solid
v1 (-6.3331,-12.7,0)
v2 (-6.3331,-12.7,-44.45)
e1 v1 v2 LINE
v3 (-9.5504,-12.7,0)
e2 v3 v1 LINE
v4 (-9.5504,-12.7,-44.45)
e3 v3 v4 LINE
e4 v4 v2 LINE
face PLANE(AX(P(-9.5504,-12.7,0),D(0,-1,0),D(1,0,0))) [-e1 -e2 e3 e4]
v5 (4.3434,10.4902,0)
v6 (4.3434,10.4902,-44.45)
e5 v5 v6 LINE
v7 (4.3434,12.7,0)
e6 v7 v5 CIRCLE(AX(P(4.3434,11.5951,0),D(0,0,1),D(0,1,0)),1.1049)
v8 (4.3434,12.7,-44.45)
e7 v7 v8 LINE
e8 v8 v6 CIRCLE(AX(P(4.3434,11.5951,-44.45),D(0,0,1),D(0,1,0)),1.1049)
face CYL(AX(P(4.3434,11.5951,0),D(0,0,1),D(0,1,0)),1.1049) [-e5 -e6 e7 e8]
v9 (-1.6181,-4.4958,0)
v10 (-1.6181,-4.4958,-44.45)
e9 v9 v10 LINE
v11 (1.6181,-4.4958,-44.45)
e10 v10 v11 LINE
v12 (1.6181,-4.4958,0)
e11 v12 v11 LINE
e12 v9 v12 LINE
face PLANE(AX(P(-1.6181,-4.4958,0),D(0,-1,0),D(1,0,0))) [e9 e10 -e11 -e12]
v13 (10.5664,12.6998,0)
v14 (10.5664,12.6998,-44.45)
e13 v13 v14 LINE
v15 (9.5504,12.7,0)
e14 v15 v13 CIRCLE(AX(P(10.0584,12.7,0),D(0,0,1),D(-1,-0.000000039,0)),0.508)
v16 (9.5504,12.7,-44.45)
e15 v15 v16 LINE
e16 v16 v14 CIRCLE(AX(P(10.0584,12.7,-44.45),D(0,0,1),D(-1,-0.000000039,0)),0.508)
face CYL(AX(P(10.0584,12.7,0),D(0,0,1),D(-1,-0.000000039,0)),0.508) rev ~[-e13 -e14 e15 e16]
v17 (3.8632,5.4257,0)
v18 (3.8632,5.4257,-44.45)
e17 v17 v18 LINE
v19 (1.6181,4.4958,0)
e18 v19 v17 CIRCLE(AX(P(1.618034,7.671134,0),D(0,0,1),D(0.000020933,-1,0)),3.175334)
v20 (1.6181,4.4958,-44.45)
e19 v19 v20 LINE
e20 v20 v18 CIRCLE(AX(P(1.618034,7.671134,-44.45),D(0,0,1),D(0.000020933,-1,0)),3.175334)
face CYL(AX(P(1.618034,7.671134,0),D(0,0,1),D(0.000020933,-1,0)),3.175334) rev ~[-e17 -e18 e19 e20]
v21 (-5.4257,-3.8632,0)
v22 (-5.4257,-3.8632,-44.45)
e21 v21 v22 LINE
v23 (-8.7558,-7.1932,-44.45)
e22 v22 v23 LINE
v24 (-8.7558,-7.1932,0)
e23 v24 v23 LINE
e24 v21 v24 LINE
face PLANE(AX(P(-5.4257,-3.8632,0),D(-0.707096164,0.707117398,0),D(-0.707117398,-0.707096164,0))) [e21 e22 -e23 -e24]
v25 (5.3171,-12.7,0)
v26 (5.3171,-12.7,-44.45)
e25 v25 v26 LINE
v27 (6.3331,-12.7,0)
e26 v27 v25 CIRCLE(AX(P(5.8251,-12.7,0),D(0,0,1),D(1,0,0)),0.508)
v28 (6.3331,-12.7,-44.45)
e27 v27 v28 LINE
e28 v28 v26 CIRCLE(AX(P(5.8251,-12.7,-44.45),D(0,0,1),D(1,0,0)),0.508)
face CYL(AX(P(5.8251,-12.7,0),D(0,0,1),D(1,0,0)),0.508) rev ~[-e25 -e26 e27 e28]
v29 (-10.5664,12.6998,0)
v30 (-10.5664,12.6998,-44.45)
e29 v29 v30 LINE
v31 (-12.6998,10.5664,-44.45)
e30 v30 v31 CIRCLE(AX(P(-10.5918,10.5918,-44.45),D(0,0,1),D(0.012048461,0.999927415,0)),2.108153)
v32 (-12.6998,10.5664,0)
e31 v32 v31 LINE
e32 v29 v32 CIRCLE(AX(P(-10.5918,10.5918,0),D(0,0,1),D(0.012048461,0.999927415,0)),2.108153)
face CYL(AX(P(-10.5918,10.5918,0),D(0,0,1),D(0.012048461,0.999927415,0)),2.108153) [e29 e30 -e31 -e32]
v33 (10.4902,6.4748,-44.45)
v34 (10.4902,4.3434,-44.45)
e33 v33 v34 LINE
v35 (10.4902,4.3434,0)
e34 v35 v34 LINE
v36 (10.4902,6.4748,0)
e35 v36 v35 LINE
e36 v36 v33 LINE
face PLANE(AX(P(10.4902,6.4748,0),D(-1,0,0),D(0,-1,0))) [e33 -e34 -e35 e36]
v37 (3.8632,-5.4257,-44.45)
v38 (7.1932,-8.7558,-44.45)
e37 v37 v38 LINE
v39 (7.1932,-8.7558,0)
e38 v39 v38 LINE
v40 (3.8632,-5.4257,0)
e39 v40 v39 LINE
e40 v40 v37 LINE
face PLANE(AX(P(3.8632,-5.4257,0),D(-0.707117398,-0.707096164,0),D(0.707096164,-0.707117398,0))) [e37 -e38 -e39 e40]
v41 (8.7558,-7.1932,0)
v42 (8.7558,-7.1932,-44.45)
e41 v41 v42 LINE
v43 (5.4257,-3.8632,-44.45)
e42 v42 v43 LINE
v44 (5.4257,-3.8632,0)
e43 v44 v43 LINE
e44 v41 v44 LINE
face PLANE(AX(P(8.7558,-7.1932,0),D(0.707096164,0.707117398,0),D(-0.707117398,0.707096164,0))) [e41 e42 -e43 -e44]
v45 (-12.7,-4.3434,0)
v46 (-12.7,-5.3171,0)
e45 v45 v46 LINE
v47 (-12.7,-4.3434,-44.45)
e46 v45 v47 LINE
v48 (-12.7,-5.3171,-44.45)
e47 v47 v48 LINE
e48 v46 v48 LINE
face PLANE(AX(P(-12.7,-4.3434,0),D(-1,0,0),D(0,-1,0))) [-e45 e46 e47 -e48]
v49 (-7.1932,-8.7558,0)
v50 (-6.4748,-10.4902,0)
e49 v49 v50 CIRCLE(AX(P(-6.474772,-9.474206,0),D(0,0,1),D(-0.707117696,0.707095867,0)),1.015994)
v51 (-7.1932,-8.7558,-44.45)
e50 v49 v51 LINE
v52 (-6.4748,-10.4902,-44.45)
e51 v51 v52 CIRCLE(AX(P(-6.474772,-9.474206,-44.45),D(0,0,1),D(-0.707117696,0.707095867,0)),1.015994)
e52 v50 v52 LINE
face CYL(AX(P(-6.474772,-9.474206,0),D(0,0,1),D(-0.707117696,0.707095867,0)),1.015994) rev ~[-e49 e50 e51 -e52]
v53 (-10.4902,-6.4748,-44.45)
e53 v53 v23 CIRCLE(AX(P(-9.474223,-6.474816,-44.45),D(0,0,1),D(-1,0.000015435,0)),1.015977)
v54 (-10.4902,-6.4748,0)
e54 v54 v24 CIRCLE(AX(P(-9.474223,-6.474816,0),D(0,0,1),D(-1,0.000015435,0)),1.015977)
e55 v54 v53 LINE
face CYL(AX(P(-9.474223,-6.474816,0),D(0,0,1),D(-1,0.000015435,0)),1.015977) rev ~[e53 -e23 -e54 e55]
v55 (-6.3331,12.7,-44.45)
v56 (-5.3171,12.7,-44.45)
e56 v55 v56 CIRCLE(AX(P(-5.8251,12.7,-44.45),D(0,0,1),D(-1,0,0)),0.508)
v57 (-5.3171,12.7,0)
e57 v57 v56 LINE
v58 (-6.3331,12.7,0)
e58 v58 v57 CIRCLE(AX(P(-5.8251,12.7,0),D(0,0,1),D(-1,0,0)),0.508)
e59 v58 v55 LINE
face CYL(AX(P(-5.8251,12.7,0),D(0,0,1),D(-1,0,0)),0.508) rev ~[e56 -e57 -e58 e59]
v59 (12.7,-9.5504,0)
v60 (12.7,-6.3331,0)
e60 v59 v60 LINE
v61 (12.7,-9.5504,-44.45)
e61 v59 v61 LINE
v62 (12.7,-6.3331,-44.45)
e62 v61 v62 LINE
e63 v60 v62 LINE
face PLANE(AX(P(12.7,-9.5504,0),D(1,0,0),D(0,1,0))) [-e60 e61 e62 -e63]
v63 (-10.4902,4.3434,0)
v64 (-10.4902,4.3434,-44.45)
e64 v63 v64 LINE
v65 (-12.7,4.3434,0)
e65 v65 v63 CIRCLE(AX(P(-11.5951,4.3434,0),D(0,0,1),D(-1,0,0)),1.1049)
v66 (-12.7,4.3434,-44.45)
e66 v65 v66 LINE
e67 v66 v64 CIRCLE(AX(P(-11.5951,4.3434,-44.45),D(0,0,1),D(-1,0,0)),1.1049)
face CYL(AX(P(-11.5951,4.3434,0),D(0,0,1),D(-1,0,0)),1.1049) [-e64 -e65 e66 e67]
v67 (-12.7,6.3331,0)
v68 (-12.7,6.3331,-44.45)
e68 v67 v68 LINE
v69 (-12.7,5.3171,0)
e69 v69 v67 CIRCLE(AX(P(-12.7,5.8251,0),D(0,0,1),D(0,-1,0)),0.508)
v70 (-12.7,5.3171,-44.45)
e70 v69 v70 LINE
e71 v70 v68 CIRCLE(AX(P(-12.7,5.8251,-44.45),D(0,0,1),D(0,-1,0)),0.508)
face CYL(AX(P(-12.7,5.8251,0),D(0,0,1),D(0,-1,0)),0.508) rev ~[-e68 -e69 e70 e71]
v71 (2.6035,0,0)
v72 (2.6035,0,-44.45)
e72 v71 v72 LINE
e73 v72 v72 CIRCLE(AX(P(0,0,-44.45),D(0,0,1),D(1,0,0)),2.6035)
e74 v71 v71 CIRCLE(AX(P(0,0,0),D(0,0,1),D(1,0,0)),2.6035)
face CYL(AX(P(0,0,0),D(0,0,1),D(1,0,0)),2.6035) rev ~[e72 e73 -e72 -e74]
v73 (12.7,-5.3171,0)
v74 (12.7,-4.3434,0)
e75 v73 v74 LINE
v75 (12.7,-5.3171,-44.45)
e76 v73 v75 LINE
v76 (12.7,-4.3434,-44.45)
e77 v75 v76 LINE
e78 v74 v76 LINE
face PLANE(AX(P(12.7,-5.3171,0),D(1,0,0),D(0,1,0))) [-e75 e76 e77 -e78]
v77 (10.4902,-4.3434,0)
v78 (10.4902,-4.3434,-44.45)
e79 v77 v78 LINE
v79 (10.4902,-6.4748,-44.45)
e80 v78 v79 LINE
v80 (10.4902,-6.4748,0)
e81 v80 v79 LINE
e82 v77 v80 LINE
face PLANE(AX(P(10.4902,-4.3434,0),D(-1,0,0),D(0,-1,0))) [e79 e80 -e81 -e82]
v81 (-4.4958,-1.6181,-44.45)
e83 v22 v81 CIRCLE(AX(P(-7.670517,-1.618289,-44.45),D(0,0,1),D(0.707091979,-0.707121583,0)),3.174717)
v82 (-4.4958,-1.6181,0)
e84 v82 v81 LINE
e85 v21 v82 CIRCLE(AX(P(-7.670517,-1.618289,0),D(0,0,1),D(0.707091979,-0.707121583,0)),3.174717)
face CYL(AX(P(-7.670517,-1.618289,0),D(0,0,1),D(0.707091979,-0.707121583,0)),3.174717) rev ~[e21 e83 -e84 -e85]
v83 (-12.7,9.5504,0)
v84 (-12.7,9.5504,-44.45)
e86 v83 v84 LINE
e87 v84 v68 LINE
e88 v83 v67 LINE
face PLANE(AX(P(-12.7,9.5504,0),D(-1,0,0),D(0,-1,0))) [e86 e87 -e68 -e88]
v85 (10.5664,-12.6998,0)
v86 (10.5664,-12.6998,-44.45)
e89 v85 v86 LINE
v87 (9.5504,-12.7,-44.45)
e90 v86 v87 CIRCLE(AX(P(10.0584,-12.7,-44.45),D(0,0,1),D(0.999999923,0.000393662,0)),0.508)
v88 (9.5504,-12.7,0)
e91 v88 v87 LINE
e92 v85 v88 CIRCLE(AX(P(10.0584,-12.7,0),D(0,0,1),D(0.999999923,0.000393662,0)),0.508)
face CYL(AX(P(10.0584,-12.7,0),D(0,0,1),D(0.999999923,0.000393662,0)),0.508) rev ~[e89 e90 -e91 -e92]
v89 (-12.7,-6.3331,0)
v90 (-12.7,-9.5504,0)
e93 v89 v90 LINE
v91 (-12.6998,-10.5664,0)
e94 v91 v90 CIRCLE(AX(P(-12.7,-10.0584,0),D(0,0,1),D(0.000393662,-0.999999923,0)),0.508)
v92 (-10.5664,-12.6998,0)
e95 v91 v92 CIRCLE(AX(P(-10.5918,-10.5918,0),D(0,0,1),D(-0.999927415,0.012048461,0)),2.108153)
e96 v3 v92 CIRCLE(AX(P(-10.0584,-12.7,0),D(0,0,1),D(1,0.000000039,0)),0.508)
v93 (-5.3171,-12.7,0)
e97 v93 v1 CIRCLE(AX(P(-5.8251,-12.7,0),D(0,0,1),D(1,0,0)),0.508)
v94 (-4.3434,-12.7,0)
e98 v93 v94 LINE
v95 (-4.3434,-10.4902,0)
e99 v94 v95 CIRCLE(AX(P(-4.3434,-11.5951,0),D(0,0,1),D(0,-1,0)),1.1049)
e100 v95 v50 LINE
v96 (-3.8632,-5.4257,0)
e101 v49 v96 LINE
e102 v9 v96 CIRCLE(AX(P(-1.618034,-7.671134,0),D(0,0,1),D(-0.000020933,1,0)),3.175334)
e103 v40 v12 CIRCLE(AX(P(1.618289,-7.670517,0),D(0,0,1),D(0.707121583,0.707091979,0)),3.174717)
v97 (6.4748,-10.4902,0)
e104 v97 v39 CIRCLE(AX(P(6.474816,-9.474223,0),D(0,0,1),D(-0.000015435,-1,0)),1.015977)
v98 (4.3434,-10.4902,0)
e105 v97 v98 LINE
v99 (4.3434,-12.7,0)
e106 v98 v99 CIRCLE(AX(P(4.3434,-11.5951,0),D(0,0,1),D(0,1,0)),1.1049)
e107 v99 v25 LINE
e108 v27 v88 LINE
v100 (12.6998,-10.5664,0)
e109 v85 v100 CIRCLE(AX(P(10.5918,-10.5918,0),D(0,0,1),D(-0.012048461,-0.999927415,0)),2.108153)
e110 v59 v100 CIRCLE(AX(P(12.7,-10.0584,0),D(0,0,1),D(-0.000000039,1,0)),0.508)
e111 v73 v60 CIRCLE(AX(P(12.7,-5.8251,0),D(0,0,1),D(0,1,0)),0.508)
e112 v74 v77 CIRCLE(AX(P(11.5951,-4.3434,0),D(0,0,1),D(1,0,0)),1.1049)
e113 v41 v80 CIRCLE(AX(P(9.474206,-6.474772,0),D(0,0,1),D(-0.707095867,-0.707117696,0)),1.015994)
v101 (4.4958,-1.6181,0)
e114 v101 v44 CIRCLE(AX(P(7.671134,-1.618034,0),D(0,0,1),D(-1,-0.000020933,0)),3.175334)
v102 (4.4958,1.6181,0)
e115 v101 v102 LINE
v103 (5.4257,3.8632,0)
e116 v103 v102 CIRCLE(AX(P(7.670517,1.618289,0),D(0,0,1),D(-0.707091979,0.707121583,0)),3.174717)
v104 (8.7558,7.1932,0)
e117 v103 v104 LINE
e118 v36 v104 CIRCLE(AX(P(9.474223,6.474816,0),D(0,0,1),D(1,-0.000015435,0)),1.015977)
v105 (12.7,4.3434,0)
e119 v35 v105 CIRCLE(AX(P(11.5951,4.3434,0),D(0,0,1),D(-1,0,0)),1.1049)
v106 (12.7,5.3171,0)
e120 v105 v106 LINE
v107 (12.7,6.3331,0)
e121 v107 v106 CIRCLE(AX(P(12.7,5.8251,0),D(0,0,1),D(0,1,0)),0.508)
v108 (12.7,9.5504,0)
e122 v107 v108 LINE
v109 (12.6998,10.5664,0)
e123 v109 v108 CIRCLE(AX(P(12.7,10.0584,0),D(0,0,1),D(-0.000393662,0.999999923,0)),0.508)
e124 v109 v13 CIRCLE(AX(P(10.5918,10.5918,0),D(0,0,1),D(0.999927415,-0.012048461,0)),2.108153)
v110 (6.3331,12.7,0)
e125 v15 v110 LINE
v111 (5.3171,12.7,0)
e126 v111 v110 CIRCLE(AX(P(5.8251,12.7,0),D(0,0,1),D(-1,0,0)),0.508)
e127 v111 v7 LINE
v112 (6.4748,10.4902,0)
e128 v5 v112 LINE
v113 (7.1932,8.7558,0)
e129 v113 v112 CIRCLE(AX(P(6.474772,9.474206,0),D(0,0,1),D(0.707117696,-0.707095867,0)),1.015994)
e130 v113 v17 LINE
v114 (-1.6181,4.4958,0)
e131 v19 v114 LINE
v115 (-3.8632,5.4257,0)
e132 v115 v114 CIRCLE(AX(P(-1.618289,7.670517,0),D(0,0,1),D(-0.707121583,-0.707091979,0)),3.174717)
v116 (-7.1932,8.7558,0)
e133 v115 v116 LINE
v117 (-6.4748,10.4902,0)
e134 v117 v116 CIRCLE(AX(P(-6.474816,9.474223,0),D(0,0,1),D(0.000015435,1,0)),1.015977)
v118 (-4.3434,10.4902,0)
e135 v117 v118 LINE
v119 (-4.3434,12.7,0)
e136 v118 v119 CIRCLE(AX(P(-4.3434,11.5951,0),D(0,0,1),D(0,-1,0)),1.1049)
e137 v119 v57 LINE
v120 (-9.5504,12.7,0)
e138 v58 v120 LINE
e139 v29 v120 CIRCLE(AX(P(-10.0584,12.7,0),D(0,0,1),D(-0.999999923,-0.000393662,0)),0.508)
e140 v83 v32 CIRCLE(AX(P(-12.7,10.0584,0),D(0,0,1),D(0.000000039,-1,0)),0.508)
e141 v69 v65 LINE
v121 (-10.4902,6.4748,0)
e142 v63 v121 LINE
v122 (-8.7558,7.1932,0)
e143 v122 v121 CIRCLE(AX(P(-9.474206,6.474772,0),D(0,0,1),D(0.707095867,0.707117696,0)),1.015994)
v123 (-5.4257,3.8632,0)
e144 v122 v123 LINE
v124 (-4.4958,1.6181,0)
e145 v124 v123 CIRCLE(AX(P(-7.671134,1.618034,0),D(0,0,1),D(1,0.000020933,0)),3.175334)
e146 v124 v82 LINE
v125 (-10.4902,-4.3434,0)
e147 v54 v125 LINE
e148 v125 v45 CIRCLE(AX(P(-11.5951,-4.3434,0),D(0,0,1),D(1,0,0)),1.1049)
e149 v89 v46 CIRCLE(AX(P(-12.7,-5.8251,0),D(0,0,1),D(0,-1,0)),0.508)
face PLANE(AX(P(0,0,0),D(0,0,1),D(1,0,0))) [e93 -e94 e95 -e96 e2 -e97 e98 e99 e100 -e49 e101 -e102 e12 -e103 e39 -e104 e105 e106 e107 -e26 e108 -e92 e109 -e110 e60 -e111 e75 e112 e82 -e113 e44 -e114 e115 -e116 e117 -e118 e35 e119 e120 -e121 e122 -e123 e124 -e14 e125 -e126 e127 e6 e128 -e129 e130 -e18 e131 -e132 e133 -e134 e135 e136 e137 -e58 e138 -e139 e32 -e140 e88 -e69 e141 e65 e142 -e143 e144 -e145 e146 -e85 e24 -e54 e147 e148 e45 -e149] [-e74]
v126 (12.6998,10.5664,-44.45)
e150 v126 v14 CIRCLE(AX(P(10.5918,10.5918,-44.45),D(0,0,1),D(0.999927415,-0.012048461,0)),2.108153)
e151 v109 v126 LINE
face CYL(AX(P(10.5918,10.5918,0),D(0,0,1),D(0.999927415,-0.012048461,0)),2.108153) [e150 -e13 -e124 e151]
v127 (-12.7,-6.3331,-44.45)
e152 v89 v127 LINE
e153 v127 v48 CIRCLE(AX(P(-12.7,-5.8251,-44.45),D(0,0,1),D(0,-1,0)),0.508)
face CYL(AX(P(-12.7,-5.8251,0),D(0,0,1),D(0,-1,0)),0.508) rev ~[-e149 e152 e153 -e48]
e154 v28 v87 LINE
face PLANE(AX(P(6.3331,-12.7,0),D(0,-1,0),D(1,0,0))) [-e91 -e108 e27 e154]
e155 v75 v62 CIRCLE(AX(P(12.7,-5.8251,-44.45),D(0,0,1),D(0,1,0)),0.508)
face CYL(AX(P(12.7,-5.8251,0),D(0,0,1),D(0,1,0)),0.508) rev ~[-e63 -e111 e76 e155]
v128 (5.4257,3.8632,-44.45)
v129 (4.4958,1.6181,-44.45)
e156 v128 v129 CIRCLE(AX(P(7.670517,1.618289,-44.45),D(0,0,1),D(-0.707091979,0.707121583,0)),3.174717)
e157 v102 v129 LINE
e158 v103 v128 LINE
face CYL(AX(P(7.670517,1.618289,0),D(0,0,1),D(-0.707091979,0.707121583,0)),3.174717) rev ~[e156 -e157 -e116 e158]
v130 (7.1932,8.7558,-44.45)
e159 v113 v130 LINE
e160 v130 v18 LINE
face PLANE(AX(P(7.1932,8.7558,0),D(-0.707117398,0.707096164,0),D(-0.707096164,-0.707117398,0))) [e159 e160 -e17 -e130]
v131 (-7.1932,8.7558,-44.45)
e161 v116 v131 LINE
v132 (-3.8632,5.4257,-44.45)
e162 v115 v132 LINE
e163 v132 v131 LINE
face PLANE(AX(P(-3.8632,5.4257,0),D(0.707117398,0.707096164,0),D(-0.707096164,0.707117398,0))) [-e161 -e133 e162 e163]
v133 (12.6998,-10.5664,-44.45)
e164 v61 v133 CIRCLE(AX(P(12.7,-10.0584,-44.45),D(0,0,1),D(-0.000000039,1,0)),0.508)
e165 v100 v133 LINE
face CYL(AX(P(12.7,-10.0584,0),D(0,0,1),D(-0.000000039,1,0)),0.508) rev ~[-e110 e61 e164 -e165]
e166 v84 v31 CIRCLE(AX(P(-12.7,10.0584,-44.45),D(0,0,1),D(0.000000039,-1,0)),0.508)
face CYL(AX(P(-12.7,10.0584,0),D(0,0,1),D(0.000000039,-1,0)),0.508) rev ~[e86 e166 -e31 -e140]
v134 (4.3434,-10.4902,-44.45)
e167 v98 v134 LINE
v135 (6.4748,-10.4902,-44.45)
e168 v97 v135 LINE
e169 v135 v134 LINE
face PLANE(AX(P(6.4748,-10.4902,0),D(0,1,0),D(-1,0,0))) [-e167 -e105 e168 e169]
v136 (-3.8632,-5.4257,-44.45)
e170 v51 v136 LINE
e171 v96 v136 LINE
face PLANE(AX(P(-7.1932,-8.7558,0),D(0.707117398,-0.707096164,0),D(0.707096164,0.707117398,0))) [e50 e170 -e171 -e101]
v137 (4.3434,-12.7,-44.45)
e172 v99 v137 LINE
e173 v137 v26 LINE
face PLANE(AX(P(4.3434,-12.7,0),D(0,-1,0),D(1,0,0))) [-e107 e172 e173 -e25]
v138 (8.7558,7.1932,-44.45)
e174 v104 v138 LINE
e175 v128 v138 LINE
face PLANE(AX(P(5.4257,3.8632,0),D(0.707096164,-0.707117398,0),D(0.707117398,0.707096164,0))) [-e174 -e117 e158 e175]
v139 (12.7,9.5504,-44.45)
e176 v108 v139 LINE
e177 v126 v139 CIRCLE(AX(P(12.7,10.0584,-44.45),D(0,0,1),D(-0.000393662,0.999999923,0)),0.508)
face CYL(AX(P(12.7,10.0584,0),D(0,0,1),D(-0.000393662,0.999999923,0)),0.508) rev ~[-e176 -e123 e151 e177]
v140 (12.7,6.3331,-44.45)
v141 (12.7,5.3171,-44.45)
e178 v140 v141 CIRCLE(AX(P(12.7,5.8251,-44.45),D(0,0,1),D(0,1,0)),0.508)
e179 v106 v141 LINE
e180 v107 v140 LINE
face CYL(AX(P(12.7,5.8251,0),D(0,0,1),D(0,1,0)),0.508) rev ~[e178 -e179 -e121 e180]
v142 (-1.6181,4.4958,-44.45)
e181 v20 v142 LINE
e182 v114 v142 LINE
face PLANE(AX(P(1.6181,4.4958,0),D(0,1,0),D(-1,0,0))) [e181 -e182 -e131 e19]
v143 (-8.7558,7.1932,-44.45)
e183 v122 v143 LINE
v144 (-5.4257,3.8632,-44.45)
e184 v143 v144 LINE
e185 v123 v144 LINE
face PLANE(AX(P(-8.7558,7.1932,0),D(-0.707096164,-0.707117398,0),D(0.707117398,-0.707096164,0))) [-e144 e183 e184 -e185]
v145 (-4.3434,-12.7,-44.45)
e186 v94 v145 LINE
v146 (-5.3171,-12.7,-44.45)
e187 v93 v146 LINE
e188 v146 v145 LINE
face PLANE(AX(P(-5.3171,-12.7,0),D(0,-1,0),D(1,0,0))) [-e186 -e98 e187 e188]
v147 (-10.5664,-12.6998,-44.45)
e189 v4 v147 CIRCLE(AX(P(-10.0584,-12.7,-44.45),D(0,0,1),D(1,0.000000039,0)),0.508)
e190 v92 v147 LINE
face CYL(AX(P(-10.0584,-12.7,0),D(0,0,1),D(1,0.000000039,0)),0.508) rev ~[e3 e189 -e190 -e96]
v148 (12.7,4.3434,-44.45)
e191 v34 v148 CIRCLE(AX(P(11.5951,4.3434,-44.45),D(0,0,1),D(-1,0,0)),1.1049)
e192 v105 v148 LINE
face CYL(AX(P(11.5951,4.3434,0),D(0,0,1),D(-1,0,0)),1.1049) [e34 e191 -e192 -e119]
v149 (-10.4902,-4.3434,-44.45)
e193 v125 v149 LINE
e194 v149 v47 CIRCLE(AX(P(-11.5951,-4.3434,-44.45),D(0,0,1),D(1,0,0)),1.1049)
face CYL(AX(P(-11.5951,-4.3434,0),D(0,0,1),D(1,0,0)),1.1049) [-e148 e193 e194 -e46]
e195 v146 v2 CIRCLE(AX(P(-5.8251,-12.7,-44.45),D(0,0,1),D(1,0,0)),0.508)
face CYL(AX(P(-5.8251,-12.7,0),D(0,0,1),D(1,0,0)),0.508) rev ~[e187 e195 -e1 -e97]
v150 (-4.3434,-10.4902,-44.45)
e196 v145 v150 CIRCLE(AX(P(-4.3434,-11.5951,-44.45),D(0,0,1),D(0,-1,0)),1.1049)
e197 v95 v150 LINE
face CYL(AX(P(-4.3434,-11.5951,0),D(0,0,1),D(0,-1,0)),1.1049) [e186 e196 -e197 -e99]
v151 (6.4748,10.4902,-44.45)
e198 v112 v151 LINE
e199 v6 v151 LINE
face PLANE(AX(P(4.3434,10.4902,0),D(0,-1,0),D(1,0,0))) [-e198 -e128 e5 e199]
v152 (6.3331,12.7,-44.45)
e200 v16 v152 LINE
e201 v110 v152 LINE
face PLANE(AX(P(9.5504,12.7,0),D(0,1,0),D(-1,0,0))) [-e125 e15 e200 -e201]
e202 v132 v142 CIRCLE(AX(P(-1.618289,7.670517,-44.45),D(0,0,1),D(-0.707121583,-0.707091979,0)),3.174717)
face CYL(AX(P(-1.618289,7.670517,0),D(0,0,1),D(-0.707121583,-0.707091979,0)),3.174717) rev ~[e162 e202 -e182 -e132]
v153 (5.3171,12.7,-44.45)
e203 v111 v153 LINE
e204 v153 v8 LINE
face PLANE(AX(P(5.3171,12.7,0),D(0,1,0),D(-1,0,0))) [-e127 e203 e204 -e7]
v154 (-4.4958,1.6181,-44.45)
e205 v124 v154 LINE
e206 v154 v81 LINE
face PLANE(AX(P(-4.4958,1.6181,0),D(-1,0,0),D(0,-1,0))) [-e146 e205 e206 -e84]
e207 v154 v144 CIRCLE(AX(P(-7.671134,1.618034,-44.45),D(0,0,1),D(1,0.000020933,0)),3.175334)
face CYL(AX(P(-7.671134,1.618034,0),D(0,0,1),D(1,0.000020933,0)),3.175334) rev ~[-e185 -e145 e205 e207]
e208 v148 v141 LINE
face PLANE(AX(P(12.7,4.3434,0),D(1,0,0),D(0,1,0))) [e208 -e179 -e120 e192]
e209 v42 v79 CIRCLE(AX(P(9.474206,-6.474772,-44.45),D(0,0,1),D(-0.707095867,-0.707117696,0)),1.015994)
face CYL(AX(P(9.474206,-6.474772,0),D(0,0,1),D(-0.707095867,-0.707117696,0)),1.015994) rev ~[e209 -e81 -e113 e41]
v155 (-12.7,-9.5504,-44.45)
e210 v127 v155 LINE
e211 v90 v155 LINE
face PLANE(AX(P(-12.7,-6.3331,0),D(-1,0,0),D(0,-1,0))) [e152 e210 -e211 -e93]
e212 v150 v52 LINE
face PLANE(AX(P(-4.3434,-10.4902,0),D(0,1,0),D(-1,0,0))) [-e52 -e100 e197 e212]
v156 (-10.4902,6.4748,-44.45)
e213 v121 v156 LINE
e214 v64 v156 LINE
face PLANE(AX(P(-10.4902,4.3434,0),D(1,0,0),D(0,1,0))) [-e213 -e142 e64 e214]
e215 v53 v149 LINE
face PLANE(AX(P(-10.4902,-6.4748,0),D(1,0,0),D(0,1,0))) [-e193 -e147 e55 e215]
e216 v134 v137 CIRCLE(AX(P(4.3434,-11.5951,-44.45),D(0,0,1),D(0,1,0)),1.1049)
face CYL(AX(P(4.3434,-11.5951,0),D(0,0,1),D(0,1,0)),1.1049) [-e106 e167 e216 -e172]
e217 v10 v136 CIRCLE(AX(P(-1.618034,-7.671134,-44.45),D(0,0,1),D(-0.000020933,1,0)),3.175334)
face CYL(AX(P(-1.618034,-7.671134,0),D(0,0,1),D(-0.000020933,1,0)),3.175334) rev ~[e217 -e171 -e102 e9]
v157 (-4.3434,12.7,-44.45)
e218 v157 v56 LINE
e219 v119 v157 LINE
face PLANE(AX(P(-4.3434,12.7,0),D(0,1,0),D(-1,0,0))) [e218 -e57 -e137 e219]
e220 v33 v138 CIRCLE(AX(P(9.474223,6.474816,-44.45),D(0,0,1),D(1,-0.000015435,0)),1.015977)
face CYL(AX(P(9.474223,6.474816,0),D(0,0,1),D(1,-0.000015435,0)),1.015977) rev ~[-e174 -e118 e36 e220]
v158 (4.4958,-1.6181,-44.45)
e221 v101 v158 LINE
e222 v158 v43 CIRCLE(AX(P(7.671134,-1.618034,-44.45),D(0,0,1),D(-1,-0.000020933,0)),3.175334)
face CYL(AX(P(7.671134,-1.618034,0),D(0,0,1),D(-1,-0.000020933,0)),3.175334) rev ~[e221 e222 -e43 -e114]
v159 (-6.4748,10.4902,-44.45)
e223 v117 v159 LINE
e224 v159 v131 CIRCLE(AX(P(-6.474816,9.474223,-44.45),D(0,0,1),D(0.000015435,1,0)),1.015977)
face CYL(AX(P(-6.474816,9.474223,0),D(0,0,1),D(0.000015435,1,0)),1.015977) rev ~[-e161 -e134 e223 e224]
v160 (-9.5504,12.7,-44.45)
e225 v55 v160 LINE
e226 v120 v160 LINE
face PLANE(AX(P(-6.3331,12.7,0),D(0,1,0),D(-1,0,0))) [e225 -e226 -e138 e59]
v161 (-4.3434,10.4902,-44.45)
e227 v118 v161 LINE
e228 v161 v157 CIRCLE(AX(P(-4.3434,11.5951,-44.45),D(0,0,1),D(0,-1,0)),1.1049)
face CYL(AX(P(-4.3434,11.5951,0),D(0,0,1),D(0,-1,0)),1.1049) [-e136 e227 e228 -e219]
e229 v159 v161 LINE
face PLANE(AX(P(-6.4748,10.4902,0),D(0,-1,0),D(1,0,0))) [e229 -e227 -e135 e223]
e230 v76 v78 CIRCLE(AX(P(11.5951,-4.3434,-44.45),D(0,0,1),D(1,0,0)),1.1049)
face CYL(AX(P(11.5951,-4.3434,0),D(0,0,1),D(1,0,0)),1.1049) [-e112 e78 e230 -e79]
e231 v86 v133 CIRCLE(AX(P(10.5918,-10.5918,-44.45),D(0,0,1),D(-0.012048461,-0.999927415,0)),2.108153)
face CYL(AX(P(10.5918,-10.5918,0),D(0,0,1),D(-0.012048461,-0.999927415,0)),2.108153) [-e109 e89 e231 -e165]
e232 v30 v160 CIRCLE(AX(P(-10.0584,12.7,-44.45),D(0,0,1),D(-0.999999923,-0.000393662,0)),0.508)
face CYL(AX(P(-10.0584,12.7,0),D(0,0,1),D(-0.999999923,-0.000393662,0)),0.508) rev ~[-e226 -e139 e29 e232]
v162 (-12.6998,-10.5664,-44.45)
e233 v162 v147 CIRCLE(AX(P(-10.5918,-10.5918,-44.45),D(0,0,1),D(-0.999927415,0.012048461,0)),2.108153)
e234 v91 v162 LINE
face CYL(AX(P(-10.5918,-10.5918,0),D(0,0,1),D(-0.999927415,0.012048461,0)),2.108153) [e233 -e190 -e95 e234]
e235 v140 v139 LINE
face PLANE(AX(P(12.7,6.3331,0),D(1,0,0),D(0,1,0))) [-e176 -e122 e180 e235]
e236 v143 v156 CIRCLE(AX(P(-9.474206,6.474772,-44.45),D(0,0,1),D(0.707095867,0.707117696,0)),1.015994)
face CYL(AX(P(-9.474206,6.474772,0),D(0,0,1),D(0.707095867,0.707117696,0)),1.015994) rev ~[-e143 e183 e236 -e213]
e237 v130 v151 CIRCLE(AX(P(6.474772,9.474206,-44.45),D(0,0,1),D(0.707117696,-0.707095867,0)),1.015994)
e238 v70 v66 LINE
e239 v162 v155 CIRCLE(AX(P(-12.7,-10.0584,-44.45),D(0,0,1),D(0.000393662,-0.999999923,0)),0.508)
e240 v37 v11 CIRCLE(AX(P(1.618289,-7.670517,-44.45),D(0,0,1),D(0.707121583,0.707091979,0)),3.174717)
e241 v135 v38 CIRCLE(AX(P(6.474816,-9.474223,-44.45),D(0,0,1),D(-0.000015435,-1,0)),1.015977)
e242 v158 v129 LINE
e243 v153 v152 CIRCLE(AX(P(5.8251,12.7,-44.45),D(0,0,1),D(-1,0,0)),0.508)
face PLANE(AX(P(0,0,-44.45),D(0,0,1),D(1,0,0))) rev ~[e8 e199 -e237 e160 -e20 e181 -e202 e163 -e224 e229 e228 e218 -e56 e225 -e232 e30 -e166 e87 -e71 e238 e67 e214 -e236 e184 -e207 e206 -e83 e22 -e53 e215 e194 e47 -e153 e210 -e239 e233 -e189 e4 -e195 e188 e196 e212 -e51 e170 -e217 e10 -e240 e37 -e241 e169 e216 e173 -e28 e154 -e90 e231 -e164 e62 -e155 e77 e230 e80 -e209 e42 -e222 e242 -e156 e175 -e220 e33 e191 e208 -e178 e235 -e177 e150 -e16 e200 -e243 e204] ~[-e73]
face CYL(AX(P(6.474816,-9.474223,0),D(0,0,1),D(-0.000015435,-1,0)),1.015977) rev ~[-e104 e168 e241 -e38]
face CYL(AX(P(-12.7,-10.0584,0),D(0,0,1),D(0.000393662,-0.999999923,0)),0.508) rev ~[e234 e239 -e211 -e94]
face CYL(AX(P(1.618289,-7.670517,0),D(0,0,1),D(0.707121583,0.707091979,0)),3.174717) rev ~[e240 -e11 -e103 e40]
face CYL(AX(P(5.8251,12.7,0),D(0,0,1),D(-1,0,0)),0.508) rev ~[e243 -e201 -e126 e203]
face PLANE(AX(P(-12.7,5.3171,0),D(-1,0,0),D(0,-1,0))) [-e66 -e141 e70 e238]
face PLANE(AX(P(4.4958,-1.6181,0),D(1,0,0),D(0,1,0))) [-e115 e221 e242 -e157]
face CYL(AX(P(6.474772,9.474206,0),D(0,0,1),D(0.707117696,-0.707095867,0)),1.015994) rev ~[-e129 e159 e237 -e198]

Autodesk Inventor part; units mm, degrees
ref_plane "YZ Plane" through (0, 0, 0) normal (1, 0, 0) x (0, 1, 0)
ref_plane "XZ Plane" through (0, 0, 0) normal (0, 1, 0) x (-1, 0, 0)
ref_plane "XY Plane" through (0, 0, 0) normal (0, 0, 1) x (1, 0, 0)
sketch "Sketch_1" plane through (0, 0, 0) normal (0, 0, 1) x (1, 0, 0)
  arc A0 (-12.6998, -10.5664) -> (-10.5664, -12.6998) centre (-10.5918, -10.5918) ccw
  arc A1 (-9.5504, -12.7) -> (-10.5664, -12.6998) centre (-10.0584, -12.7) ccw
  line L0 (-9.5504, -12.7) -> (-6.3331, -12.7)
  arc A2 (-5.3171, -12.7) -> (-6.3331, -12.7) centre (-5.8251, -12.7) ccw
  line L1 (-5.3171, -12.7) -> (-4.3434, -12.7)
  arc A3 (-4.3434, -12.7) -> (-4.3434, -10.4902) centre (-4.3434, -11.5951) ccw
  line L2 (-4.3434, -10.4902) -> (-6.4748, -10.4902)
  arc A4 (-7.1932, -8.7558) -> (-6.4748, -10.4902) centre (-6.4748, -9.4742) ccw
  line L3 (-7.1932, -8.7558) -> (-3.8632, -5.4257)
  arc A5 (-1.6181, -4.4958) -> (-3.8632, -5.4257) centre (-1.6181, -7.6708) ccw
  line L4 (-1.6181, -4.4958) -> (1.6181, -4.4958)
  arc A6 (3.8632, -5.4257) -> (1.6181, -4.4958) centre (1.6181, -7.6708) ccw
  line L5 (3.8632, -5.4257) -> (7.1932, -8.7558)
  arc A7 (6.4748, -10.4902) -> (7.1932, -8.7558) centre (6.4748, -9.4742) ccw
  line L6 (6.4748, -10.4902) -> (4.3434, -10.4902)
  arc A8 (4.3434, -10.4902) -> (4.3434, -12.7) centre (4.3434, -11.5951) ccw
  line L7 (4.3434, -12.7) -> (5.3171, -12.7)
  arc A9 (6.3331, -12.7) -> (5.3171, -12.7) centre (5.8251, -12.7) ccw
  line L8 (6.3331, -12.7) -> (9.5504, -12.7)
  arc A10 (10.5664, -12.6998) -> (9.5504, -12.7) centre (10.0584, -12.7) ccw
  arc A11 (10.5664, -12.6998) -> (12.6998, -10.5664) centre (10.5918, -10.5918) ccw
  arc A12 (12.7, -9.5504) -> (12.6998, -10.5664) centre (12.7, -10.0584) ccw
  line L9 (12.7, -9.5504) -> (12.7, -6.3331)
  arc A13 (12.7, -5.3171) -> (12.7, -6.3331) centre (12.7, -5.8251) ccw
  line L10 (12.7, -5.3171) -> (12.7, -4.3434)
  arc A14 (12.7, -4.3434) -> (10.4902, -4.3434) centre (11.5951, -4.3434) ccw
  line L11 (10.4902, -4.3434) -> (10.4902, -6.4748)
  arc A15 (8.7558, -7.1932) -> (10.4902, -6.4748) centre (9.4742, -6.4748) ccw
  line L12 (8.7558, -7.1932) -> (5.4257, -3.8632)
  arc A16 (4.4958, -1.6181) -> (5.4257, -3.8632) centre (7.6708, -1.6181) ccw
  line L13 (4.4958, -1.6181) -> (4.4958, 1.6181)
  arc A17 (5.4257, 3.8632) -> (4.4958, 1.6181) centre (7.6708, 1.6181) ccw
  line L14 (5.4257, 3.8632) -> (8.7558, 7.1932)
  arc A18 (10.4902, 6.4748) -> (8.7558, 7.1932) centre (9.4742, 6.4748) ccw
  line L15 (10.4902, 6.4748) -> (10.4902, 4.3434)
  arc A19 (10.4902, 4.3434) -> (12.7, 4.3434) centre (11.5951, 4.3434) ccw
  line L16 (12.7, 4.3434) -> (12.7, 5.3171)
  arc A20 (12.7, 6.3331) -> (12.7, 5.3171) centre (12.7, 5.8251) ccw
  line L17 (12.7, 6.3331) -> (12.7, 9.5504)
  arc A21 (12.6998, 10.5664) -> (12.7, 9.5504) centre (12.7, 10.0584) ccw
  arc A22 (12.6998, 10.5664) -> (10.5664, 12.6998) centre (10.5918, 10.5918) ccw
  arc A23 (9.5504, 12.7) -> (10.5664, 12.6998) centre (10.0584, 12.7) ccw
  line L18 (9.5504, 12.7) -> (6.3331, 12.7)
  arc A24 (5.3171, 12.7) -> (6.3331, 12.7) centre (5.8251, 12.7) ccw
  line L19 (5.3171, 12.7) -> (4.3434, 12.7)
  arc A25 (4.3434, 12.7) -> (4.3434, 10.4902) centre (4.3434, 11.5951) ccw
  line L20 (4.3434, 10.4902) -> (6.4748, 10.4902)
  arc A26 (7.1932, 8.7558) -> (6.4748, 10.4902) centre (6.4748, 9.4742) ccw
  line L21 (7.1932, 8.7558) -> (3.8632, 5.4257)
  arc A27 (1.6181, 4.4958) -> (3.8632, 5.4257) centre (1.6181, 7.6708) ccw
  line L22 (1.6181, 4.4958) -> (-1.6181, 4.4958)
  arc A28 (-3.8632, 5.4257) -> (-1.6181, 4.4958) centre (-1.6181, 7.6708) ccw
  line L23 (-3.8632, 5.4257) -> (-7.1932, 8.7558)
  arc A29 (-6.4748, 10.4902) -> (-7.1932, 8.7558) centre (-6.4748, 9.4742) ccw
  line L24 (-6.4748, 10.4902) -> (-4.3434, 10.4902)
  arc A30 (-4.3434, 10.4902) -> (-4.3434, 12.7) centre (-4.3434, 11.5951) ccw
  line L25 (-4.3434, 12.7) -> (-5.3171, 12.7)
  arc A31 (-6.3331, 12.7) -> (-5.3171, 12.7) centre (-5.8251, 12.7) ccw
  line L26 (-6.3331, 12.7) -> (-9.5504, 12.7)
  arc A32 (-10.5664, 12.6998) -> (-9.5504, 12.7) centre (-10.0584, 12.7) ccw
  arc A33 (-10.5664, 12.6998) -> (-12.6998, 10.5664) centre (-10.5918, 10.5918) ccw
  arc A34 (-12.7, 9.5504) -> (-12.6998, 10.5664) centre (-12.7, 10.0584) ccw
  line L27 (-12.7, 9.5504) -> (-12.7, 6.3331)
  arc A35 (-12.7, 5.3171) -> (-12.7, 6.3331) centre (-12.7, 5.8251) ccw
  line L28 (-12.7, 5.3171) -> (-12.7, 4.3434)
  arc A36 (-12.7, 4.3434) -> (-10.4902, 4.3434) centre (-11.5951, 4.3434) ccw
  line L29 (-10.4902, 4.3434) -> (-10.4902, 6.4748)
  arc A37 (-8.7558, 7.1932) -> (-10.4902, 6.4748) centre (-9.4742, 6.4748) ccw
  line L30 (-8.7558, 7.1932) -> (-5.4257, 3.8632)
  arc A38 (-4.4958, 1.6181) -> (-5.4257, 3.8632) centre (-7.6708, 1.6181) ccw
  line L31 (-4.4958, 1.6181) -> (-4.4958, -1.6181)
  arc A39 (-5.4257, -3.8632) -> (-4.4958, -1.6181) centre (-7.6708, -1.6181) ccw
  line L32 (-5.4257, -3.8632) -> (-8.7558, -7.1932)
  arc A40 (-10.4902, -6.4748) -> (-8.7558, -7.1932) centre (-9.4742, -6.4748) ccw
  line L33 (-10.4902, -6.4748) -> (-10.4902, -4.3434)
  arc A41 (-10.4902, -4.3434) -> (-12.7, -4.3434) centre (-11.5951, -4.3434) ccw
  line L34 (-12.7, -4.3434) -> (-12.7, -5.3171)
  arc A42 (-12.7, -6.3331) -> (-12.7, -5.3171) centre (-12.7, -5.8251) ccw
  line L35 (-12.7, -6.3331) -> (-12.7, -9.5504)
  arc A43 (-12.6998, -10.5664) -> (-12.7, -9.5504) centre (-12.7, -10.0584) ccw
  circle A44 centre (0, 0) radius 2.6035
extrude "Extrusion1" add sketch "Sketch_1" against normal blind 44.45
properties part number "1010-15-CL"
